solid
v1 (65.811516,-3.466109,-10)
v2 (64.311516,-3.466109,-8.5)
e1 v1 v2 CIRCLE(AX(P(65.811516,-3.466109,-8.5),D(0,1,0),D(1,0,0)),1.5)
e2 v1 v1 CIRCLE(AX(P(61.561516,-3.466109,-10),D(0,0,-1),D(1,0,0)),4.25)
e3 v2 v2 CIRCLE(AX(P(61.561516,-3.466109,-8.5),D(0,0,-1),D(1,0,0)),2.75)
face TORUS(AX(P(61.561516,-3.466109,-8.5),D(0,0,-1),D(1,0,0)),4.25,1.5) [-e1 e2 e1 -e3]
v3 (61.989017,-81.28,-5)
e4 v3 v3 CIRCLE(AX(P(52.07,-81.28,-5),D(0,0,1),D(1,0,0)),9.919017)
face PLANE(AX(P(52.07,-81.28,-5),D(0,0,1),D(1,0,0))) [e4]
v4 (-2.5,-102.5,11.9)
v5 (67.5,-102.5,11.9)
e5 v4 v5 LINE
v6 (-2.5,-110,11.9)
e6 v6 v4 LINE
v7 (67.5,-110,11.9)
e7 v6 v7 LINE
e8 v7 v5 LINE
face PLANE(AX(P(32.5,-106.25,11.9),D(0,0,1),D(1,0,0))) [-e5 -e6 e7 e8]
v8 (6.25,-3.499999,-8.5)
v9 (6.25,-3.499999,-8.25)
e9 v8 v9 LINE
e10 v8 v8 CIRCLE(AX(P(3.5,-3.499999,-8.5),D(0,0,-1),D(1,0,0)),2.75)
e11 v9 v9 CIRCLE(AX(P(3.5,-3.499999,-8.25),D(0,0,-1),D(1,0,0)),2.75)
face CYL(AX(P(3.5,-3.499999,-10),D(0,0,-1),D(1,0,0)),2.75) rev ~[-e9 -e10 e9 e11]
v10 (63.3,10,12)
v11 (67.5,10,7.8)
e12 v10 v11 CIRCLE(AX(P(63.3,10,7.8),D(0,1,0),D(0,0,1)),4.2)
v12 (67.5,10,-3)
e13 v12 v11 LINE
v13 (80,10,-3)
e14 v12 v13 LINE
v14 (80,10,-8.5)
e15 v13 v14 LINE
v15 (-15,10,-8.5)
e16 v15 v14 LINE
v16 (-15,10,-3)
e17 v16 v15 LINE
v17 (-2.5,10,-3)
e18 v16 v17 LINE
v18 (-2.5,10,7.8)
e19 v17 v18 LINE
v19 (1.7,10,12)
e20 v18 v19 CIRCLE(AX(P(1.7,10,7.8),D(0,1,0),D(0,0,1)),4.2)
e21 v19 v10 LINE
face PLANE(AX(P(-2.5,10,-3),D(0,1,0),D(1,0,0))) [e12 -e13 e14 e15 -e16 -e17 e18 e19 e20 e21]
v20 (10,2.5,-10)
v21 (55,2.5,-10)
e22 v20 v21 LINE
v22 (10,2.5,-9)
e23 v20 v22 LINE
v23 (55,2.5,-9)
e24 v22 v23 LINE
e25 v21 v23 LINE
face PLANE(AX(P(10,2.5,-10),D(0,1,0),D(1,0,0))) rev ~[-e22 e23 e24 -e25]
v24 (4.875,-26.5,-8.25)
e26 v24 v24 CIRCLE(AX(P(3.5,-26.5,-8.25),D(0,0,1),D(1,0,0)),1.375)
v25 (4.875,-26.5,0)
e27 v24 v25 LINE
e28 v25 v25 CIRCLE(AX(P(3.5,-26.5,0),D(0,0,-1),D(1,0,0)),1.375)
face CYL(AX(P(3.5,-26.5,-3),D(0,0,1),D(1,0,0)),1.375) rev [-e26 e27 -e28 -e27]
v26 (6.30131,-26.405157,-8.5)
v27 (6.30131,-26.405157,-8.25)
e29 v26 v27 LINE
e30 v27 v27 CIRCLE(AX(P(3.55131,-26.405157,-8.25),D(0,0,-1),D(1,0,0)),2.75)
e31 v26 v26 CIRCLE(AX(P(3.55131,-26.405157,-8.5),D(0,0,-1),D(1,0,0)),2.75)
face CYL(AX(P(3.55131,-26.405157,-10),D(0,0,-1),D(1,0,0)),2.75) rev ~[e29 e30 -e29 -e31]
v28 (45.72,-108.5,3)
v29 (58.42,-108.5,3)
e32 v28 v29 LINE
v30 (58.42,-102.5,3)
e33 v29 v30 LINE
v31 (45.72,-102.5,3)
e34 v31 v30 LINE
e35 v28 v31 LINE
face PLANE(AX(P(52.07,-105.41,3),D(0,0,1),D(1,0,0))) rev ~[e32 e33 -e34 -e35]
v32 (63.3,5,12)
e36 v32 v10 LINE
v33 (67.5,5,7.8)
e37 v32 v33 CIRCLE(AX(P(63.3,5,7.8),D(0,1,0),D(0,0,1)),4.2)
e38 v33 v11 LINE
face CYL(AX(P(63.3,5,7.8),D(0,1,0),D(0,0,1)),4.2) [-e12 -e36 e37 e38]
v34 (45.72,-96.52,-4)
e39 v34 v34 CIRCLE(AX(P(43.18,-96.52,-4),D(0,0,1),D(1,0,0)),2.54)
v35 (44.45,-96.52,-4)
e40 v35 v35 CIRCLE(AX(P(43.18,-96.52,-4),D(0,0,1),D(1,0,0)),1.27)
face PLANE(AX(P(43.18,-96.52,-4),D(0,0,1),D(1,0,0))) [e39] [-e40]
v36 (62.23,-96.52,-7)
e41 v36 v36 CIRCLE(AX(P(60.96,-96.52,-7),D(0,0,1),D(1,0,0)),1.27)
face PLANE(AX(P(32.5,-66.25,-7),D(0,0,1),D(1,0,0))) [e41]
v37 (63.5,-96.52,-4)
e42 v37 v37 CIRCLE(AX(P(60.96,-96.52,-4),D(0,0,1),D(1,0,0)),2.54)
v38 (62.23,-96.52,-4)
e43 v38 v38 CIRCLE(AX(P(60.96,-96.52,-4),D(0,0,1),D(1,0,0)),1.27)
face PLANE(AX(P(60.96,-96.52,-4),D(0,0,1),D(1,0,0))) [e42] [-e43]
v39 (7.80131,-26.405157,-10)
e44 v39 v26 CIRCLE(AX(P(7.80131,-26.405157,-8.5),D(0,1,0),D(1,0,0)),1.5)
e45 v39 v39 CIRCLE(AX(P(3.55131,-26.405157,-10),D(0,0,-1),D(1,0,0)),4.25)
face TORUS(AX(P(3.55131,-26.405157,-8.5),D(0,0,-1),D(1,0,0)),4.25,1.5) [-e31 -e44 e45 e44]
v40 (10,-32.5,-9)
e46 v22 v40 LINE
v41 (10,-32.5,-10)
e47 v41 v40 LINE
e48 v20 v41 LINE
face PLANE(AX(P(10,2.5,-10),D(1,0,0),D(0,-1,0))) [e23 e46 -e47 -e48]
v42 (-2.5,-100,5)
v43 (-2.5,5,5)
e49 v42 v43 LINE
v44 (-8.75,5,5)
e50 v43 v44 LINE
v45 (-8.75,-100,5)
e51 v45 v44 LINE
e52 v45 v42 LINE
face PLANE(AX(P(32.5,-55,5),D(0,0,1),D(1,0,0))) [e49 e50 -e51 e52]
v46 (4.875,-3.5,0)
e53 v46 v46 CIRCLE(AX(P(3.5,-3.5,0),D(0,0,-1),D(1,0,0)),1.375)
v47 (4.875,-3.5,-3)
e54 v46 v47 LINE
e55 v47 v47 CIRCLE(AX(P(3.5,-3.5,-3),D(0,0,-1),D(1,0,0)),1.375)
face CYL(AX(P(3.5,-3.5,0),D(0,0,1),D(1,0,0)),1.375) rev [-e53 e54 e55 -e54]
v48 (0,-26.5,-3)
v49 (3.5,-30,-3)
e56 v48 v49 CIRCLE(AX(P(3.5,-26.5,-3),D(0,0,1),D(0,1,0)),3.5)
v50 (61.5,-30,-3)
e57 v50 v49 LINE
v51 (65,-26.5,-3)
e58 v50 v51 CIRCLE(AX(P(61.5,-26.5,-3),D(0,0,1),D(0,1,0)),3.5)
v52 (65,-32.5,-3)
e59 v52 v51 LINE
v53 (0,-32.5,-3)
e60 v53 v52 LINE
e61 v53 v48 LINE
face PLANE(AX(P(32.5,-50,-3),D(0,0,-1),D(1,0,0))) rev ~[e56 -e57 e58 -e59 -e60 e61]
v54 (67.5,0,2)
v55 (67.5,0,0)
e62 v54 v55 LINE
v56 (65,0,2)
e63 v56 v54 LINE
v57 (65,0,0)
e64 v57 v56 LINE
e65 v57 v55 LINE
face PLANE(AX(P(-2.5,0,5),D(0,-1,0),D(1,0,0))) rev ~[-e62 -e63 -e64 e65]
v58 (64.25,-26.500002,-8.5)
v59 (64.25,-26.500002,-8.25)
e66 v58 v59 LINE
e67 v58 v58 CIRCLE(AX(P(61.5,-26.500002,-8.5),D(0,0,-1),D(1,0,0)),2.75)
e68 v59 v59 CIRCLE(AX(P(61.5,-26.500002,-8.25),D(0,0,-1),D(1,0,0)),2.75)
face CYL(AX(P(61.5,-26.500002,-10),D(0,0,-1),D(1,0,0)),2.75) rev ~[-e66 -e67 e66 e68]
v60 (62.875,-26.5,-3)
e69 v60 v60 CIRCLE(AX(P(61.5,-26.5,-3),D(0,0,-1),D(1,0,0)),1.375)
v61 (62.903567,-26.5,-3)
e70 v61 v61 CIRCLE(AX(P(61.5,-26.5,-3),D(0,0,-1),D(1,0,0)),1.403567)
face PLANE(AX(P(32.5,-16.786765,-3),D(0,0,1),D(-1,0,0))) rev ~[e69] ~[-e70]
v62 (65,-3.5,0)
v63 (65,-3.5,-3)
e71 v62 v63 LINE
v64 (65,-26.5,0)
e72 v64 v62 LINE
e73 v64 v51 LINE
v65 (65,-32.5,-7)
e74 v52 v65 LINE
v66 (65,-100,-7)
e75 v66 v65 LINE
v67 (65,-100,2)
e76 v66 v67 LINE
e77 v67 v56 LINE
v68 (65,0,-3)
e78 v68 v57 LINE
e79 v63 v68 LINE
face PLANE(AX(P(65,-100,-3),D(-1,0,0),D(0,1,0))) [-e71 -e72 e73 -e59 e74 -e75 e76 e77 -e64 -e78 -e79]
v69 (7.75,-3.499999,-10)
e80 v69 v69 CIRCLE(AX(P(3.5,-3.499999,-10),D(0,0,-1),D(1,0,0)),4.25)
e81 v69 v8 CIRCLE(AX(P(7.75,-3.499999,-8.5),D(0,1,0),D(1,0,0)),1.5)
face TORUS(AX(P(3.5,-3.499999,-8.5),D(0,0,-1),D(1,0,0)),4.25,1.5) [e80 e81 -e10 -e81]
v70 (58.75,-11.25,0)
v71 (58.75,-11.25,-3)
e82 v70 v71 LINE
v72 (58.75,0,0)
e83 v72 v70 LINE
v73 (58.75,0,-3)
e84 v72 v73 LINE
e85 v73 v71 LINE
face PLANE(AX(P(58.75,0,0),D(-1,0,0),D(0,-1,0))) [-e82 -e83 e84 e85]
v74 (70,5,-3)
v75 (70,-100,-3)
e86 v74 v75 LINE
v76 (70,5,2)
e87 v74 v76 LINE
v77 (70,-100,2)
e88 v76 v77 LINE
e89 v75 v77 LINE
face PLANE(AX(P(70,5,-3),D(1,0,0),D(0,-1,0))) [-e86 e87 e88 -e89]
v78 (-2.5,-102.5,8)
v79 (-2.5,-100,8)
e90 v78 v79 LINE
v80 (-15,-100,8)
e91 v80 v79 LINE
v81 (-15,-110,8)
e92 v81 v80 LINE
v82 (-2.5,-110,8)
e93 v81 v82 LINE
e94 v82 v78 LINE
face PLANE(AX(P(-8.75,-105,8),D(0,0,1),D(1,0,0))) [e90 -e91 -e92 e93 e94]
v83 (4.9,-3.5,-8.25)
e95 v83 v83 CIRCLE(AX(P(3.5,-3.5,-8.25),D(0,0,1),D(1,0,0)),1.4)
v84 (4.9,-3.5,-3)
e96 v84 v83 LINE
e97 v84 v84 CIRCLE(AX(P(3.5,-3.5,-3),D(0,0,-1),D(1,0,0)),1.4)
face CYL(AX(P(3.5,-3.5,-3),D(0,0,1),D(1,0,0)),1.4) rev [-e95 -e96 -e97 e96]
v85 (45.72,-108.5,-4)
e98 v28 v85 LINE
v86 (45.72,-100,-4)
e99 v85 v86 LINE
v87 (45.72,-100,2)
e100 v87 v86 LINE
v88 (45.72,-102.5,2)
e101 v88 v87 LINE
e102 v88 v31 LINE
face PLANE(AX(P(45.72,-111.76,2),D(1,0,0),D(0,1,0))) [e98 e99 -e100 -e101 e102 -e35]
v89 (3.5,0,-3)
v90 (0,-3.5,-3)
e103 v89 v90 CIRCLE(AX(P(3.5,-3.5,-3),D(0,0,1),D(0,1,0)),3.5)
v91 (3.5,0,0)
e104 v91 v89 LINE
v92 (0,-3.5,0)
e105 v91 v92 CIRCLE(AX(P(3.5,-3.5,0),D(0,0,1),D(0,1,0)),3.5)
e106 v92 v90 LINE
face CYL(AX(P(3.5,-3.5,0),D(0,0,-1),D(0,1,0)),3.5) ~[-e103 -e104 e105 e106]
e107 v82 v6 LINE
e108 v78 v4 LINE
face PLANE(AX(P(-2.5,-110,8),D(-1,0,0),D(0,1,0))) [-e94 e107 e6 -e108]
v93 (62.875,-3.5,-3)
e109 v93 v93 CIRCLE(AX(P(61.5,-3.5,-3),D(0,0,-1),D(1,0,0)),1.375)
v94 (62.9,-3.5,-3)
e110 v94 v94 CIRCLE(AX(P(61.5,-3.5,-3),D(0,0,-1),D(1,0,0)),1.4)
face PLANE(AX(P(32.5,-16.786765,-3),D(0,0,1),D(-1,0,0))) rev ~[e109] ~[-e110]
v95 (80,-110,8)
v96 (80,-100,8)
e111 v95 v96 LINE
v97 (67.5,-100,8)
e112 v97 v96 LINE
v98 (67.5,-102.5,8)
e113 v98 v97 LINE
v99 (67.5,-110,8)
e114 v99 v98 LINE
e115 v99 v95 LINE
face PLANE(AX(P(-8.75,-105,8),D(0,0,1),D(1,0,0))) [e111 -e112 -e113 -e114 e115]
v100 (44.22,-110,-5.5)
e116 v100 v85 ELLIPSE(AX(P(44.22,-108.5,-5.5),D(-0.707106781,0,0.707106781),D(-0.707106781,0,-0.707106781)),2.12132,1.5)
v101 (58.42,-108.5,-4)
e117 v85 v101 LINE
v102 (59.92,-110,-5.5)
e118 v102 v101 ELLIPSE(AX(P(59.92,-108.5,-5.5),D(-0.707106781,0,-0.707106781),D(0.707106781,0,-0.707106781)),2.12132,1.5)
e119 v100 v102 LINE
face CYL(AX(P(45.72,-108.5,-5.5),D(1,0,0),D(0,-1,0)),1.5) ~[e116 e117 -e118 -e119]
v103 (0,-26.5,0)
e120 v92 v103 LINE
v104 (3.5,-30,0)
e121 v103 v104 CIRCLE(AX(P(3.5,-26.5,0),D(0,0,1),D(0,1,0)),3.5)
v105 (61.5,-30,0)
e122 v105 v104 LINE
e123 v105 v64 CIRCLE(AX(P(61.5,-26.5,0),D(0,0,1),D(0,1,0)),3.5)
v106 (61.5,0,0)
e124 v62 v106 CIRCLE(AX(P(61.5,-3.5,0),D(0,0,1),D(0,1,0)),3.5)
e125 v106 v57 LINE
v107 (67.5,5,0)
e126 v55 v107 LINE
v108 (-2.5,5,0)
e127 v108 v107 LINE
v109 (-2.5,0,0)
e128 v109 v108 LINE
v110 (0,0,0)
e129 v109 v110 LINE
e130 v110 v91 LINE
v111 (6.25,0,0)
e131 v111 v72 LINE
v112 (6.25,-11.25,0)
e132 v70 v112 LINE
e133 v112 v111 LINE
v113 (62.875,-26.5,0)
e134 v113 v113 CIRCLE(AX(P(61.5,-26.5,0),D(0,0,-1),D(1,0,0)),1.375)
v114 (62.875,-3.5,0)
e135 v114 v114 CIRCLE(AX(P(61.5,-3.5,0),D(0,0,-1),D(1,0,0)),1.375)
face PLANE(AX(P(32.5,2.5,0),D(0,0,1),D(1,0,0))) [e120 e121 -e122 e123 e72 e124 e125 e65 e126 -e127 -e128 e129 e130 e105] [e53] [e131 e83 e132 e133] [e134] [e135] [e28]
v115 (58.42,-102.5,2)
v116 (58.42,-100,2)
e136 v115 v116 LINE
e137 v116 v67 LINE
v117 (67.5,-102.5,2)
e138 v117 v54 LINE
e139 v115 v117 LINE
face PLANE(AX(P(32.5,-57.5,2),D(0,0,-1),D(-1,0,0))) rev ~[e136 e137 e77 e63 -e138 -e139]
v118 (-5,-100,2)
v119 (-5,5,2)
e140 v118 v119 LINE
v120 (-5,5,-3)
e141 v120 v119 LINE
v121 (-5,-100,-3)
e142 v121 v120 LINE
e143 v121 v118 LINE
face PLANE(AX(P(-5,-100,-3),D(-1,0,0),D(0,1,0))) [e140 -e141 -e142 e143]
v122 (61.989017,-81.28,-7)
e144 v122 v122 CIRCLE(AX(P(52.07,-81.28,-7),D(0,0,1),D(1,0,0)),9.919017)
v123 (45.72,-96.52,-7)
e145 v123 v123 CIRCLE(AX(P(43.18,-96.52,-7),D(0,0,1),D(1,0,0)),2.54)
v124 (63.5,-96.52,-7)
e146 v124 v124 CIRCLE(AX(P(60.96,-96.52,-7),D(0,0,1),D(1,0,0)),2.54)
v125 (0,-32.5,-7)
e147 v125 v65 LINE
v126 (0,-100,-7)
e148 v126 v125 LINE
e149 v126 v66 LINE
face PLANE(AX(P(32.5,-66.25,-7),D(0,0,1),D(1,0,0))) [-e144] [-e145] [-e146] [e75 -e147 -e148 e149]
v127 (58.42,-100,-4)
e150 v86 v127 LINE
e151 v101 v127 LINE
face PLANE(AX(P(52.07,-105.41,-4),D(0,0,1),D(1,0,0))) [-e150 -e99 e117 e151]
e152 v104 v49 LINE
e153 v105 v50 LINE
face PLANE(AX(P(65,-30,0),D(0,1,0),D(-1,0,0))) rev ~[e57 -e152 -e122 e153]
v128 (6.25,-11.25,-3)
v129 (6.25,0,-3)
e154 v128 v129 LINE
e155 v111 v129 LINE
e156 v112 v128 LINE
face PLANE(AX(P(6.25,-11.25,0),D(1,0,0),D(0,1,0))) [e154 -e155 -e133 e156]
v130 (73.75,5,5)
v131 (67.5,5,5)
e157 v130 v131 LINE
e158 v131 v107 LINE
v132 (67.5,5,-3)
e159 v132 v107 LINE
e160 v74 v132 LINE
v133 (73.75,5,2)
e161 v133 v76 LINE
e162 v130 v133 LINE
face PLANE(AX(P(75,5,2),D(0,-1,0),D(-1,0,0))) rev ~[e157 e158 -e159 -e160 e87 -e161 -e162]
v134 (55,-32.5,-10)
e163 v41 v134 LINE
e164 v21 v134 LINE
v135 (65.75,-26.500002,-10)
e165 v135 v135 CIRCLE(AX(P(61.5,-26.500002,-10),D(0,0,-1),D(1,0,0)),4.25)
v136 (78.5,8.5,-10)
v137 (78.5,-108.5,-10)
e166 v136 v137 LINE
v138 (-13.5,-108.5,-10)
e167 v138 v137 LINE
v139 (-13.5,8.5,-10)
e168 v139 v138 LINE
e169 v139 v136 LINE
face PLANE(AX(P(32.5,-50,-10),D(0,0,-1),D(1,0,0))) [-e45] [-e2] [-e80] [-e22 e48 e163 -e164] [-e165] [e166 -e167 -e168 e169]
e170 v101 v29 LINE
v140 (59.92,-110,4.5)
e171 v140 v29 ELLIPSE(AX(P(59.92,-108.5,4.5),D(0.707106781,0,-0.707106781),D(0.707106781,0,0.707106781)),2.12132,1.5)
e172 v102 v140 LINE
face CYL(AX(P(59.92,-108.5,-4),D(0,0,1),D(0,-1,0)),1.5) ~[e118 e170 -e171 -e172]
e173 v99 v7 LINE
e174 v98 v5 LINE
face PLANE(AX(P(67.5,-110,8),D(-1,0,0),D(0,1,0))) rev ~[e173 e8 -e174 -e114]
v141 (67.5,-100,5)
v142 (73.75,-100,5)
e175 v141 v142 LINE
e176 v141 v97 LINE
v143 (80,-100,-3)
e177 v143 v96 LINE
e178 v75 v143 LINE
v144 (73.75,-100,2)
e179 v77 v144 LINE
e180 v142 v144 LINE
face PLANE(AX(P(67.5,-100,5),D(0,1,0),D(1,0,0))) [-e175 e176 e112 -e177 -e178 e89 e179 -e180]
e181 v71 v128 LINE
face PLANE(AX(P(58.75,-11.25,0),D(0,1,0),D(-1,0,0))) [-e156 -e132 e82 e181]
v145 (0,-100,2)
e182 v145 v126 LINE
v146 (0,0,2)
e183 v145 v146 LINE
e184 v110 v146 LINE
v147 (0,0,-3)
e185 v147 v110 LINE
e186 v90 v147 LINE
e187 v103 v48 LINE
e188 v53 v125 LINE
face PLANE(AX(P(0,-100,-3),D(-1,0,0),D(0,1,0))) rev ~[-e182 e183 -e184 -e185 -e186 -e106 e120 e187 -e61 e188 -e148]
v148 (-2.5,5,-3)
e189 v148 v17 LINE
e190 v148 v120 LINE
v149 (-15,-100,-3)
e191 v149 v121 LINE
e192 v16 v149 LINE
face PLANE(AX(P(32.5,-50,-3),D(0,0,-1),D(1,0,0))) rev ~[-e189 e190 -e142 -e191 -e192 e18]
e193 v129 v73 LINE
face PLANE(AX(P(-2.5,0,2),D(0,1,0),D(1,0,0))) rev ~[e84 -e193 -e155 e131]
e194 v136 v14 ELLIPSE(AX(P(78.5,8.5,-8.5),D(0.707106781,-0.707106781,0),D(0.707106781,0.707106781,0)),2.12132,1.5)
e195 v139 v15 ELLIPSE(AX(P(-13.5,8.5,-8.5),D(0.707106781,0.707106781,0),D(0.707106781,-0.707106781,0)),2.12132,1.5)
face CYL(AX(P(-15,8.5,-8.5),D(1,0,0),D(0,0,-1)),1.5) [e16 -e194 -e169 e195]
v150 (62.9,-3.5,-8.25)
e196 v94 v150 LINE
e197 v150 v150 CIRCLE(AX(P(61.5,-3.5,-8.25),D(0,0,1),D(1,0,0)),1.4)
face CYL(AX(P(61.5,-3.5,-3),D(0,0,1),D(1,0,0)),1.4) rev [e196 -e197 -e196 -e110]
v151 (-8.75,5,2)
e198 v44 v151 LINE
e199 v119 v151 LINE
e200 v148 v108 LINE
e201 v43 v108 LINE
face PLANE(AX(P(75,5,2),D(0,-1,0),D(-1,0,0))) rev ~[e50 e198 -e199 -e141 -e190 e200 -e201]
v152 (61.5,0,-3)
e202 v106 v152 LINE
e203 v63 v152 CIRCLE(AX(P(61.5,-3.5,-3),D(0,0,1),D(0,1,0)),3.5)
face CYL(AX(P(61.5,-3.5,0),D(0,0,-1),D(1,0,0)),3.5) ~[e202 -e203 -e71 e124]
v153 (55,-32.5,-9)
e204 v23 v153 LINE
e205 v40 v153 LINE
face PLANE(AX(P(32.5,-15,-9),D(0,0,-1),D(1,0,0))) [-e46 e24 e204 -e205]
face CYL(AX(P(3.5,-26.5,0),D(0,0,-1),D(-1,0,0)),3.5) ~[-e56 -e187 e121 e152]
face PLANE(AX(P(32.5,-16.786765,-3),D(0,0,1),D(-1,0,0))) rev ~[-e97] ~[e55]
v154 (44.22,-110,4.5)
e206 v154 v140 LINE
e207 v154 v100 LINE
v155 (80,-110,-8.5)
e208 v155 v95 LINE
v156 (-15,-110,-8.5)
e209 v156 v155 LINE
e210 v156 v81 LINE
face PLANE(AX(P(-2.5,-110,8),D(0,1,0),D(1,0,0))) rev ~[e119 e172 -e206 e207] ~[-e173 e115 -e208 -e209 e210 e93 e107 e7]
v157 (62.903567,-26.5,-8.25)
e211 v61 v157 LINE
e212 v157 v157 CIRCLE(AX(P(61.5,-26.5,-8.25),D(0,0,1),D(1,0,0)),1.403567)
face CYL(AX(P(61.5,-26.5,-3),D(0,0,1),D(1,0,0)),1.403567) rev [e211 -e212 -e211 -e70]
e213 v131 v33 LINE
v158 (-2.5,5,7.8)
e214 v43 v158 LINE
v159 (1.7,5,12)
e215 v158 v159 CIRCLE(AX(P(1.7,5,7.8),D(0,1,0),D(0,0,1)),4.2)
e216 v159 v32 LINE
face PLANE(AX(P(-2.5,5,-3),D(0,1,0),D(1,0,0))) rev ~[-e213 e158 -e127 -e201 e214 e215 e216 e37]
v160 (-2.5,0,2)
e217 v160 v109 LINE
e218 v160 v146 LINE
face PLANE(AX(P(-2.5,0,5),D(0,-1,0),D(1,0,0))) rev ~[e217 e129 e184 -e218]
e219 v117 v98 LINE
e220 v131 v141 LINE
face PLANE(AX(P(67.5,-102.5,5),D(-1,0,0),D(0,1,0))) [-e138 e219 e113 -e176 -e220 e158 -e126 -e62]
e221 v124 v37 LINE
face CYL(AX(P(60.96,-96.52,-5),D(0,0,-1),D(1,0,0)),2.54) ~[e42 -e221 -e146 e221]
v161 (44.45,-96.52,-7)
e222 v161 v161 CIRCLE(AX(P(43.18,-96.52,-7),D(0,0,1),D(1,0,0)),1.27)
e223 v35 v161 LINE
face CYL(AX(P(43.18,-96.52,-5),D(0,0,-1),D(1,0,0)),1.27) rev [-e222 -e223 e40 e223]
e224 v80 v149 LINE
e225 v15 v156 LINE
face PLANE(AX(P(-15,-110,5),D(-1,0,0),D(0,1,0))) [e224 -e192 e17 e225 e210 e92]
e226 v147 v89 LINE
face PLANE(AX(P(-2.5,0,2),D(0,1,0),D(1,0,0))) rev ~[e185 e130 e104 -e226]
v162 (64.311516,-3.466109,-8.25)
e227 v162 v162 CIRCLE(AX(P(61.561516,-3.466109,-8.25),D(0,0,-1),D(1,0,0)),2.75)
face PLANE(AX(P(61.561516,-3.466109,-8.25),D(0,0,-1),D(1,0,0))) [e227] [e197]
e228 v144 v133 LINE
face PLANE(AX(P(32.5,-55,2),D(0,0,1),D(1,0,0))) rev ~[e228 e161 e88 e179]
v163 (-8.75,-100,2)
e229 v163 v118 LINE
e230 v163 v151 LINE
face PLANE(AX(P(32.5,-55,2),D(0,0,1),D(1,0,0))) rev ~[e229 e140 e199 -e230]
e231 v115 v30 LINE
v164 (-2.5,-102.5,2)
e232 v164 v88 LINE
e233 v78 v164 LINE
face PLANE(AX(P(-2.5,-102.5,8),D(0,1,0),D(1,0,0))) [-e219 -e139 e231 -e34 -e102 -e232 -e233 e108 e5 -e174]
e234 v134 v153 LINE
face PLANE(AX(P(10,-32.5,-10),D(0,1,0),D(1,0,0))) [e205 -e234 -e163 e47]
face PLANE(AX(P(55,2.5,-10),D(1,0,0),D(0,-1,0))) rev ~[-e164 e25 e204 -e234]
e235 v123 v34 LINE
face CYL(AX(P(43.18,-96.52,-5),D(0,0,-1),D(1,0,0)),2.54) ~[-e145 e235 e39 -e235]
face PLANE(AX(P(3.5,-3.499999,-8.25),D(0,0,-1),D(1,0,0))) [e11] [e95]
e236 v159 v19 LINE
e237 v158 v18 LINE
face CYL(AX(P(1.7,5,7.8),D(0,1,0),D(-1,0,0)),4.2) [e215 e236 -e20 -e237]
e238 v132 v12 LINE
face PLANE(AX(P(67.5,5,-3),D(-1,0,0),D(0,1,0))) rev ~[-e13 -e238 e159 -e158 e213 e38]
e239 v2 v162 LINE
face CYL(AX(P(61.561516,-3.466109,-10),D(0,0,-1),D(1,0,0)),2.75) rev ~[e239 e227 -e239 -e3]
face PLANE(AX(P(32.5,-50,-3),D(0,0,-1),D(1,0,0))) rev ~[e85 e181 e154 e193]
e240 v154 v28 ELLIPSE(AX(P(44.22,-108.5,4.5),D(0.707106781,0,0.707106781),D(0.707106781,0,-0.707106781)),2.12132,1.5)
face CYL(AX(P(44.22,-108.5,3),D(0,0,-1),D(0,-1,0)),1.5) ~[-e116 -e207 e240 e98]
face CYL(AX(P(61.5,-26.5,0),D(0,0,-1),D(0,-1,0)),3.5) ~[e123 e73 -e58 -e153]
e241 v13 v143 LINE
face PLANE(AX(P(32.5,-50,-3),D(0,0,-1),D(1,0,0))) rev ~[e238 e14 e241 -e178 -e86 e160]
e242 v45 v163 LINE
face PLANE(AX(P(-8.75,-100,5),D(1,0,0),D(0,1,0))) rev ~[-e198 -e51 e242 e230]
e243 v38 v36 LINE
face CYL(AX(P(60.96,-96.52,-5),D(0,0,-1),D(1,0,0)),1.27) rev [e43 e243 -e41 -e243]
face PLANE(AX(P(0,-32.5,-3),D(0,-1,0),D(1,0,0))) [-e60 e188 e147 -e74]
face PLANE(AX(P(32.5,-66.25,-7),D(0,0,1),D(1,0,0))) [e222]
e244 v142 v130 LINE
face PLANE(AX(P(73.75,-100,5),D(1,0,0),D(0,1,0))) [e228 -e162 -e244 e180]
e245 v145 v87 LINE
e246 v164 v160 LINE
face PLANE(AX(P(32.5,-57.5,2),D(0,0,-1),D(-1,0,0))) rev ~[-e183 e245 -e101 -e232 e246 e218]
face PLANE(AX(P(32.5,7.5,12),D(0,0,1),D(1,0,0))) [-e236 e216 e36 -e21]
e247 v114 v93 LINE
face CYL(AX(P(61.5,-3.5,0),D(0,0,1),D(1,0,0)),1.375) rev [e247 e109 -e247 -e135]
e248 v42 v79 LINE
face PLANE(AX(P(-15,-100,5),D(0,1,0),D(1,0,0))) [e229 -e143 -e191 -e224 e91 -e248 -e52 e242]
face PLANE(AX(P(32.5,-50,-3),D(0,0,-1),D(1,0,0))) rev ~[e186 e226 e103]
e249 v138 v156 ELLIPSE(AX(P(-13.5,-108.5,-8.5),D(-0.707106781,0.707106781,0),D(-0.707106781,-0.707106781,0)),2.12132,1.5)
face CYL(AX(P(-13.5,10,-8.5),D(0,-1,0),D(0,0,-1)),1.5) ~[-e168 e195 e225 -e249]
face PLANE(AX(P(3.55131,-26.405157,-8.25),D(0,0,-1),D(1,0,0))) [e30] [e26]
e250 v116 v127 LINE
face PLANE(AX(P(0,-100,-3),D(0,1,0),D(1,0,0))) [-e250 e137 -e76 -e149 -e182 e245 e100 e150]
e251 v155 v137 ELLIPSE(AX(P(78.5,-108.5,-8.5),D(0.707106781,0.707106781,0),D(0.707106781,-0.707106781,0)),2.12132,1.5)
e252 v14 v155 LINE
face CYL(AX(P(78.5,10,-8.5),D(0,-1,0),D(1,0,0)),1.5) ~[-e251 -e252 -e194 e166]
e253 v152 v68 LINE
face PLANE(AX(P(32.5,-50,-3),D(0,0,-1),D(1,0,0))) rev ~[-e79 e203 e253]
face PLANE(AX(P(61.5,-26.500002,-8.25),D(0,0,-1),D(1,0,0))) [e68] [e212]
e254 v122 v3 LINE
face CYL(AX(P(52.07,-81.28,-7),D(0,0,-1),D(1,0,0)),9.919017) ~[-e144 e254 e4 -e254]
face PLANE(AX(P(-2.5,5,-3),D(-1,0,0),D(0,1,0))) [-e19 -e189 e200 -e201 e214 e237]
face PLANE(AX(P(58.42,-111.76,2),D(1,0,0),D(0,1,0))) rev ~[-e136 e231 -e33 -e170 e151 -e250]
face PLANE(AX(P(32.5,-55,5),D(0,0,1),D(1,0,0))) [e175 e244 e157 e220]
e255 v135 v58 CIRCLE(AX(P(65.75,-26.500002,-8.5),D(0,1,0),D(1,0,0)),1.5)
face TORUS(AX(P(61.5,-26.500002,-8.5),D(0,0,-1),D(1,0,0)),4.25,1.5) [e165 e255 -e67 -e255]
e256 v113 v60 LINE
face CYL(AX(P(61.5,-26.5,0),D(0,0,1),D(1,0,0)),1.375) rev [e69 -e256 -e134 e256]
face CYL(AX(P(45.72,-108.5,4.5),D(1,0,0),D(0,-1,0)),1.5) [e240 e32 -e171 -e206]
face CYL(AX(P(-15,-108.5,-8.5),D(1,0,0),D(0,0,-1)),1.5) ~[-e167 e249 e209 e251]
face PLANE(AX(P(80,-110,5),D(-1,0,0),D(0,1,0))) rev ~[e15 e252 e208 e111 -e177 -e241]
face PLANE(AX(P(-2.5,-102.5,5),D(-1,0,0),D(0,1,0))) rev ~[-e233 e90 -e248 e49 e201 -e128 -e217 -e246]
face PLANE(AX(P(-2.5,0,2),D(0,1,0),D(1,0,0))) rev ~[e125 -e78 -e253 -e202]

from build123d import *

# Parameters (mm, degrees)
SKETCH_R             = 1.375
PAD_DEPTH            = 3
FILLET_R             = 3.5
SKETCH001_W          = 95
SKETCH001_H          = 120
SKETCH001_R          = 1.375
SKETCH001_R_2        = 1.4
SKETCH001_R_3        = 1.403567
PAD001_DEPTH         = 7
SKETCH002_R          = 2.75
POCKET_DEPTH         = 1.75
SKETCH003_W          = 65
SKETCH003_H          = 67.5
POCKET001_DEPTH      = 4
SKETCH004_W          = 65
SKETCH004_H          = 100
PAD002_DEPTH         = 5
SKETCH005_W          = 70
SKETCH005_H          = 102.5
PAD003_DEPTH         = 3
SKETCH006_W          = 70
SKETCH006_H          = 5
POCKET002_DEPTH      = 5
FILLET001_R          = 1.5
SKETCH008_R          = 2.54
SKETCH008_R_2        = 1.27
SKETCH008_R_3        = 9.919017
PAD004_DEPTH         = 2
PAD004_FACE95_R      = 2.54
PAD004_FACE95_R_2    = 1.27
PAD005_DEPTH         = 1
PAD005_FACE94_R      = 2.54
PAD005_FACE94_R_2    = 1.27
PAD006_DEPTH         = 1
SKETCH009_W          = 12.7
SKETCH009_H          = 12.7
POCKET003_DEPTH      = 6
POCKET003_DEPTH_BACK = 1
FILLET002_R          = 1.5
SKETCH010_W          = 12.5
SKETCH010_H          = 10
SKETCH010_W_2        = 70
SKETCH010_H_2        = 7.5
PAD007_DEPTH         = 3
SKETCH015_W          = 45
SKETCH015_H          = 35
POCKET004_DEPTH      = 1
SKETCH028_W          = 1.25
SKETCH028_H          = 105
POCKET005_DEPTH      = 5
SKETCH031_W          = 70
SKETCH031_H          = 5
PAD025_DEPTH         = 15
FILLET007_R          = 4.2
SKETCH033_W          = 70
SKETCH033_H          = 7.5
PAD026_DEPTH         = 3.9
BODY_PLACEMENT_ANGLE = 90


with BuildPart() as part:
    # Sketch → Pad (new body)
    with BuildSketch(Plane.XZ):
        Polygon((6.25, 0), (0, 0), (0, 30), (6.25, 30), (58.75, 30), (65, 30), (65, 0), (58.75, 0), (58.75, 11.25), (6.25, 11.25), align=None)
        with Locations((3.5, 26.5)):
            Circle(SKETCH_R, mode=Mode.SUBTRACT)
        with Locations((61.5, 26.5)):
            Circle(SKETCH_R, mode=Mode.SUBTRACT)
        with Locations((3.5, 3.5)):
            Circle(SKETCH_R, mode=Mode.SUBTRACT)
        with Locations((61.5, 3.5)):
            Circle(SKETCH_R, mode=Mode.SUBTRACT)
    extrude(amount=PAD_DEPTH)

    # Fillet
    fillet_edges = [part.edges().sort_by_distance(p)[0] for p in [
        (0, -1.5, 30),
        (0, -1.5, 0),
        (65, -1.5, 30),
        (65, -1.5, 0),
    ]]
    fillet(fillet_edges, radius=FILLET_R)

    # Sketch001 (on Face5 of Fillet) → Pad001 (join)
    with BuildSketch(Plane.XZ.offset(3)):
        with Locations((32.5, 50)):
            Rectangle(SKETCH001_W, SKETCH001_H)
        with Locations((3.5, 26.5)):
            Circle(SKETCH001_R, mode=Mode.SUBTRACT)
        with Locations((3.5, 3.5)):
            Circle(SKETCH001_R_2, mode=Mode.SUBTRACT)
        with Locations((61.5, 3.5)):
            Circle(SKETCH001_R_2, mode=Mode.SUBTRACT)
        with Locations((61.5, 26.5)):
            Circle(SKETCH001_R_3, mode=Mode.SUBTRACT)
    extrude(amount=PAD001_DEPTH)

    # Sketch002 (on Face29 of Pad001) → Pocket (cut)
    with BuildSketch(Plane.XZ.offset(10)):
        with Locations((3.5, 3.499999)):
            Circle(SKETCH002_R)
        with Locations((3.55131, 26.405157)):
            Circle(SKETCH002_R)
        with Locations((61.5, 26.500002)):
            Circle(SKETCH002_R)
        with Locations((61.561516, 3.466109)):
            Circle(SKETCH002_R)
    extrude(amount=-POCKET_DEPTH, mode=Mode.SUBTRACT)

    # Sketch003 (on Face5 of Pocket) → Pocket001 (cut)
    with BuildSketch(Plane(origin=(0, -3, 0), x_dir=(1, 0, 0), z_dir=(0, 1, 0))):
        with Locations((32.5, -66.25)):
            Rectangle(SKETCH003_W, SKETCH003_H)
    extrude(amount=-POCKET001_DEPTH, mode=Mode.SUBTRACT)

    # Sketch004 (on Face5 of Pocket001) → Pad002 (join)
    with BuildSketch(Plane(origin=(0, -3, 0), x_dir=(1, 0, 0), z_dir=(0, 1, 0))):
        Polygon((0, 5), (65, 5), (70, 5), (70, -100), (80, -100), (80, -110), (-15, -110), (-15, -100), (-5, -100), (-5, 5), align=None)
        with Locations((32.5, -50)):
            Rectangle(SKETCH004_W, SKETCH004_H, mode=Mode.SUBTRACT)
    extrude(amount=PAD002_DEPTH)

    # Sketch005 (on Face22 of Pad002) → Pad003 (join)
    with BuildSketch(Plane(origin=(0, 2, 0), x_dir=(1, 0, 0), z_dir=(0, 1, 0))):
        Polygon((75, 5), (-10, 5), (-10, -100), (-15, -100), (-15, -110), (80, -110), (80, -100), (75, -100), align=None)
        with Locations((32.5, -51.25)):
            Rectangle(SKETCH005_W, SKETCH005_H, mode=Mode.SUBTRACT)
    extrude(amount=PAD003_DEPTH)

    # Sketch006 (on Face34 of Pad003) → Pocket002 (cut)
    with BuildSketch(Plane(origin=(0, 5, 0), x_dir=(1, 0, 0), z_dir=(0, 1, 0))):
        with Locations((32.5, 2.5)):
            Rectangle(SKETCH006_W, SKETCH006_H)
    extrude(amount=-POCKET002_DEPTH, mode=Mode.SUBTRACT)

    # Fillet001
    fillet001_edges = [part.edges().sort_by_distance(p)[0] for p in [
        (32.5, -10, -10),
        (-15, -10, 50),
        (80, -10, 50),
        (32.5, -10, 110),
        (58.811516, -10, 3.466109),
        (58.75, -10, 26.500002),
        (0.80131, -10, 26.405157),
        (0.75, -10, 3.499999),
    ]]
    fillet(fillet001_edges, radius=FILLET001_R)

    # Sketch008 (on Face90 of Fillet001) → Pad004 (join)
    with BuildSketch(Plane(origin=(0, -7, 0), x_dir=(1, 0, 0), z_dir=(0, 1, 0))):
        with Locations((43.18, -96.52)):
            Circle(SKETCH008_R)
        with Locations((43.18, -96.52)):
            Circle(SKETCH008_R_2, mode=Mode.SUBTRACT)
        with Locations((60.96, -96.52)):
            Circle(SKETCH008_R)
        with Locations((60.96, -96.52)):
            Circle(SKETCH008_R_2, mode=Mode.SUBTRACT)
        with Locations((52.07, -81.28)):
            Circle(SKETCH008_R_3)
    extrude(amount=PAD004_DEPTH)

    # Pad004 Face95 → Pad005 (add)
    with BuildSketch(Plane(origin=(43.18, -5, 96.52), x_dir=(1, 0, 0), z_dir=(0, 1, 0))):
        Circle(PAD004_FACE95_R)
        Circle(PAD004_FACE95_R_2, mode=Mode.SUBTRACT)
    extrude(amount=PAD005_DEPTH)

    # Pad005 Face94 → Pad006 (add)
    with BuildSketch(Plane(origin=(60.96, -5, 96.52), x_dir=(1, 0, 0), z_dir=(0, 1, 0))):
        Circle(PAD005_FACE94_R)
        Circle(PAD005_FACE94_R_2, mode=Mode.SUBTRACT)
    extrude(amount=PAD006_DEPTH)

    # Sketch009 (on Face57 of Pad006) → Pocket003 (cut, two sides)
    with BuildSketch(Plane(origin=(0, 2, 0), x_dir=(1, 0, 0), z_dir=(0, 1, 0))) as pocket003_sk:
        with Locations((52.07, -105.41)):
            Rectangle(SKETCH009_W, SKETCH009_H)
    extrude(amount=-POCKET003_DEPTH, mode=Mode.SUBTRACT)
    extrude(pocket003_sk.sketch, amount=POCKET003_DEPTH_BACK, mode=Mode.SUBTRACT)

    # Fillet002
    fillet002_edges = [part.edges().sort_by_distance(p)[0] for p in [
        (45.72, -0.5, 110),
        (52.07, -4, 110),
        (58.42, -0.5, 110),
        (52.07, 3, 110),
    ]]
    fillet(fillet002_edges, radius=FILLET002_R)

    # Sketch010 (on Face29 of Fillet002) → Pad007 (join)
    with BuildSketch(Plane(origin=(0, 5, 0), x_dir=(1, 0, 0), z_dir=(0, 1, 0))):
        with Locations((-8.75, -105)):
            Rectangle(SKETCH010_W, SKETCH010_H)
        with Locations((32.5, -106.25)):
            Rectangle(SKETCH010_W_2, SKETCH010_H_2)
        with Locations((73.75, -105)):
            Rectangle(SKETCH010_W, SKETCH010_H)
    extrude(amount=PAD007_DEPTH)

    # Sketch015 (on Face18 of Pad007) → Pocket004 (cut)
    with BuildSketch(Plane.XZ.offset(10)):
        with Locations((32.5, 15)):
            Rectangle(SKETCH015_W, SKETCH015_H)
    extrude(amount=-POCKET004_DEPTH, mode=Mode.SUBTRACT)

    # Sketch028 (on Face87 of Pocket004) → Pocket005 (cut)
    with BuildSketch(Plane(origin=(0, 5, 0), x_dir=(1, 0, 0), z_dir=(0, 1, 0))):
        with Locations((-9.375, -47.5)):
            Rectangle(SKETCH028_W, SKETCH028_H)
        with Locations((74.375, -47.5)):
            Rectangle(SKETCH028_W, SKETCH028_H)
    extrude(amount=-POCKET005_DEPTH, mode=Mode.SUBTRACT)

    # Sketch031 (on Face16 of Pocket005) → Pad025 (join)
    with BuildSketch(Plane(origin=(0, -3, 0), x_dir=(1, 0, 0), z_dir=(0, 1, 0))):
        with Locations((32.5, 7.5)):
            Rectangle(SKETCH031_W, SKETCH031_H)
    extrude(amount=PAD025_DEPTH)

    # Fillet007
    fillet007_edges = [part.edges().sort_by_distance(p)[0] for p in [
        (-2.5, 12, -7.5),
        (67.5, 12, -7.5),
    ]]
    fillet(fillet007_edges, radius=FILLET007_R)

    # Sketch033 (on Face94 of Fillet007) → Pad026 (join)
    with BuildSketch(Plane(origin=(0, 8, 0), x_dir=(1, 0, 0), z_dir=(0, 1, 0))):
        with Locations((32.5, -106.25)):
            Rectangle(SKETCH033_W, SKETCH033_H)
    extrude(amount=PAD026_DEPTH)


with BuildPart() as part_1:
    # Body placement: moved
    add(part.part.rotate(Axis((0, 0, 0), (1, 0, 0)), BODY_PLACEMENT_ANGLE))


solid = part_1.part
